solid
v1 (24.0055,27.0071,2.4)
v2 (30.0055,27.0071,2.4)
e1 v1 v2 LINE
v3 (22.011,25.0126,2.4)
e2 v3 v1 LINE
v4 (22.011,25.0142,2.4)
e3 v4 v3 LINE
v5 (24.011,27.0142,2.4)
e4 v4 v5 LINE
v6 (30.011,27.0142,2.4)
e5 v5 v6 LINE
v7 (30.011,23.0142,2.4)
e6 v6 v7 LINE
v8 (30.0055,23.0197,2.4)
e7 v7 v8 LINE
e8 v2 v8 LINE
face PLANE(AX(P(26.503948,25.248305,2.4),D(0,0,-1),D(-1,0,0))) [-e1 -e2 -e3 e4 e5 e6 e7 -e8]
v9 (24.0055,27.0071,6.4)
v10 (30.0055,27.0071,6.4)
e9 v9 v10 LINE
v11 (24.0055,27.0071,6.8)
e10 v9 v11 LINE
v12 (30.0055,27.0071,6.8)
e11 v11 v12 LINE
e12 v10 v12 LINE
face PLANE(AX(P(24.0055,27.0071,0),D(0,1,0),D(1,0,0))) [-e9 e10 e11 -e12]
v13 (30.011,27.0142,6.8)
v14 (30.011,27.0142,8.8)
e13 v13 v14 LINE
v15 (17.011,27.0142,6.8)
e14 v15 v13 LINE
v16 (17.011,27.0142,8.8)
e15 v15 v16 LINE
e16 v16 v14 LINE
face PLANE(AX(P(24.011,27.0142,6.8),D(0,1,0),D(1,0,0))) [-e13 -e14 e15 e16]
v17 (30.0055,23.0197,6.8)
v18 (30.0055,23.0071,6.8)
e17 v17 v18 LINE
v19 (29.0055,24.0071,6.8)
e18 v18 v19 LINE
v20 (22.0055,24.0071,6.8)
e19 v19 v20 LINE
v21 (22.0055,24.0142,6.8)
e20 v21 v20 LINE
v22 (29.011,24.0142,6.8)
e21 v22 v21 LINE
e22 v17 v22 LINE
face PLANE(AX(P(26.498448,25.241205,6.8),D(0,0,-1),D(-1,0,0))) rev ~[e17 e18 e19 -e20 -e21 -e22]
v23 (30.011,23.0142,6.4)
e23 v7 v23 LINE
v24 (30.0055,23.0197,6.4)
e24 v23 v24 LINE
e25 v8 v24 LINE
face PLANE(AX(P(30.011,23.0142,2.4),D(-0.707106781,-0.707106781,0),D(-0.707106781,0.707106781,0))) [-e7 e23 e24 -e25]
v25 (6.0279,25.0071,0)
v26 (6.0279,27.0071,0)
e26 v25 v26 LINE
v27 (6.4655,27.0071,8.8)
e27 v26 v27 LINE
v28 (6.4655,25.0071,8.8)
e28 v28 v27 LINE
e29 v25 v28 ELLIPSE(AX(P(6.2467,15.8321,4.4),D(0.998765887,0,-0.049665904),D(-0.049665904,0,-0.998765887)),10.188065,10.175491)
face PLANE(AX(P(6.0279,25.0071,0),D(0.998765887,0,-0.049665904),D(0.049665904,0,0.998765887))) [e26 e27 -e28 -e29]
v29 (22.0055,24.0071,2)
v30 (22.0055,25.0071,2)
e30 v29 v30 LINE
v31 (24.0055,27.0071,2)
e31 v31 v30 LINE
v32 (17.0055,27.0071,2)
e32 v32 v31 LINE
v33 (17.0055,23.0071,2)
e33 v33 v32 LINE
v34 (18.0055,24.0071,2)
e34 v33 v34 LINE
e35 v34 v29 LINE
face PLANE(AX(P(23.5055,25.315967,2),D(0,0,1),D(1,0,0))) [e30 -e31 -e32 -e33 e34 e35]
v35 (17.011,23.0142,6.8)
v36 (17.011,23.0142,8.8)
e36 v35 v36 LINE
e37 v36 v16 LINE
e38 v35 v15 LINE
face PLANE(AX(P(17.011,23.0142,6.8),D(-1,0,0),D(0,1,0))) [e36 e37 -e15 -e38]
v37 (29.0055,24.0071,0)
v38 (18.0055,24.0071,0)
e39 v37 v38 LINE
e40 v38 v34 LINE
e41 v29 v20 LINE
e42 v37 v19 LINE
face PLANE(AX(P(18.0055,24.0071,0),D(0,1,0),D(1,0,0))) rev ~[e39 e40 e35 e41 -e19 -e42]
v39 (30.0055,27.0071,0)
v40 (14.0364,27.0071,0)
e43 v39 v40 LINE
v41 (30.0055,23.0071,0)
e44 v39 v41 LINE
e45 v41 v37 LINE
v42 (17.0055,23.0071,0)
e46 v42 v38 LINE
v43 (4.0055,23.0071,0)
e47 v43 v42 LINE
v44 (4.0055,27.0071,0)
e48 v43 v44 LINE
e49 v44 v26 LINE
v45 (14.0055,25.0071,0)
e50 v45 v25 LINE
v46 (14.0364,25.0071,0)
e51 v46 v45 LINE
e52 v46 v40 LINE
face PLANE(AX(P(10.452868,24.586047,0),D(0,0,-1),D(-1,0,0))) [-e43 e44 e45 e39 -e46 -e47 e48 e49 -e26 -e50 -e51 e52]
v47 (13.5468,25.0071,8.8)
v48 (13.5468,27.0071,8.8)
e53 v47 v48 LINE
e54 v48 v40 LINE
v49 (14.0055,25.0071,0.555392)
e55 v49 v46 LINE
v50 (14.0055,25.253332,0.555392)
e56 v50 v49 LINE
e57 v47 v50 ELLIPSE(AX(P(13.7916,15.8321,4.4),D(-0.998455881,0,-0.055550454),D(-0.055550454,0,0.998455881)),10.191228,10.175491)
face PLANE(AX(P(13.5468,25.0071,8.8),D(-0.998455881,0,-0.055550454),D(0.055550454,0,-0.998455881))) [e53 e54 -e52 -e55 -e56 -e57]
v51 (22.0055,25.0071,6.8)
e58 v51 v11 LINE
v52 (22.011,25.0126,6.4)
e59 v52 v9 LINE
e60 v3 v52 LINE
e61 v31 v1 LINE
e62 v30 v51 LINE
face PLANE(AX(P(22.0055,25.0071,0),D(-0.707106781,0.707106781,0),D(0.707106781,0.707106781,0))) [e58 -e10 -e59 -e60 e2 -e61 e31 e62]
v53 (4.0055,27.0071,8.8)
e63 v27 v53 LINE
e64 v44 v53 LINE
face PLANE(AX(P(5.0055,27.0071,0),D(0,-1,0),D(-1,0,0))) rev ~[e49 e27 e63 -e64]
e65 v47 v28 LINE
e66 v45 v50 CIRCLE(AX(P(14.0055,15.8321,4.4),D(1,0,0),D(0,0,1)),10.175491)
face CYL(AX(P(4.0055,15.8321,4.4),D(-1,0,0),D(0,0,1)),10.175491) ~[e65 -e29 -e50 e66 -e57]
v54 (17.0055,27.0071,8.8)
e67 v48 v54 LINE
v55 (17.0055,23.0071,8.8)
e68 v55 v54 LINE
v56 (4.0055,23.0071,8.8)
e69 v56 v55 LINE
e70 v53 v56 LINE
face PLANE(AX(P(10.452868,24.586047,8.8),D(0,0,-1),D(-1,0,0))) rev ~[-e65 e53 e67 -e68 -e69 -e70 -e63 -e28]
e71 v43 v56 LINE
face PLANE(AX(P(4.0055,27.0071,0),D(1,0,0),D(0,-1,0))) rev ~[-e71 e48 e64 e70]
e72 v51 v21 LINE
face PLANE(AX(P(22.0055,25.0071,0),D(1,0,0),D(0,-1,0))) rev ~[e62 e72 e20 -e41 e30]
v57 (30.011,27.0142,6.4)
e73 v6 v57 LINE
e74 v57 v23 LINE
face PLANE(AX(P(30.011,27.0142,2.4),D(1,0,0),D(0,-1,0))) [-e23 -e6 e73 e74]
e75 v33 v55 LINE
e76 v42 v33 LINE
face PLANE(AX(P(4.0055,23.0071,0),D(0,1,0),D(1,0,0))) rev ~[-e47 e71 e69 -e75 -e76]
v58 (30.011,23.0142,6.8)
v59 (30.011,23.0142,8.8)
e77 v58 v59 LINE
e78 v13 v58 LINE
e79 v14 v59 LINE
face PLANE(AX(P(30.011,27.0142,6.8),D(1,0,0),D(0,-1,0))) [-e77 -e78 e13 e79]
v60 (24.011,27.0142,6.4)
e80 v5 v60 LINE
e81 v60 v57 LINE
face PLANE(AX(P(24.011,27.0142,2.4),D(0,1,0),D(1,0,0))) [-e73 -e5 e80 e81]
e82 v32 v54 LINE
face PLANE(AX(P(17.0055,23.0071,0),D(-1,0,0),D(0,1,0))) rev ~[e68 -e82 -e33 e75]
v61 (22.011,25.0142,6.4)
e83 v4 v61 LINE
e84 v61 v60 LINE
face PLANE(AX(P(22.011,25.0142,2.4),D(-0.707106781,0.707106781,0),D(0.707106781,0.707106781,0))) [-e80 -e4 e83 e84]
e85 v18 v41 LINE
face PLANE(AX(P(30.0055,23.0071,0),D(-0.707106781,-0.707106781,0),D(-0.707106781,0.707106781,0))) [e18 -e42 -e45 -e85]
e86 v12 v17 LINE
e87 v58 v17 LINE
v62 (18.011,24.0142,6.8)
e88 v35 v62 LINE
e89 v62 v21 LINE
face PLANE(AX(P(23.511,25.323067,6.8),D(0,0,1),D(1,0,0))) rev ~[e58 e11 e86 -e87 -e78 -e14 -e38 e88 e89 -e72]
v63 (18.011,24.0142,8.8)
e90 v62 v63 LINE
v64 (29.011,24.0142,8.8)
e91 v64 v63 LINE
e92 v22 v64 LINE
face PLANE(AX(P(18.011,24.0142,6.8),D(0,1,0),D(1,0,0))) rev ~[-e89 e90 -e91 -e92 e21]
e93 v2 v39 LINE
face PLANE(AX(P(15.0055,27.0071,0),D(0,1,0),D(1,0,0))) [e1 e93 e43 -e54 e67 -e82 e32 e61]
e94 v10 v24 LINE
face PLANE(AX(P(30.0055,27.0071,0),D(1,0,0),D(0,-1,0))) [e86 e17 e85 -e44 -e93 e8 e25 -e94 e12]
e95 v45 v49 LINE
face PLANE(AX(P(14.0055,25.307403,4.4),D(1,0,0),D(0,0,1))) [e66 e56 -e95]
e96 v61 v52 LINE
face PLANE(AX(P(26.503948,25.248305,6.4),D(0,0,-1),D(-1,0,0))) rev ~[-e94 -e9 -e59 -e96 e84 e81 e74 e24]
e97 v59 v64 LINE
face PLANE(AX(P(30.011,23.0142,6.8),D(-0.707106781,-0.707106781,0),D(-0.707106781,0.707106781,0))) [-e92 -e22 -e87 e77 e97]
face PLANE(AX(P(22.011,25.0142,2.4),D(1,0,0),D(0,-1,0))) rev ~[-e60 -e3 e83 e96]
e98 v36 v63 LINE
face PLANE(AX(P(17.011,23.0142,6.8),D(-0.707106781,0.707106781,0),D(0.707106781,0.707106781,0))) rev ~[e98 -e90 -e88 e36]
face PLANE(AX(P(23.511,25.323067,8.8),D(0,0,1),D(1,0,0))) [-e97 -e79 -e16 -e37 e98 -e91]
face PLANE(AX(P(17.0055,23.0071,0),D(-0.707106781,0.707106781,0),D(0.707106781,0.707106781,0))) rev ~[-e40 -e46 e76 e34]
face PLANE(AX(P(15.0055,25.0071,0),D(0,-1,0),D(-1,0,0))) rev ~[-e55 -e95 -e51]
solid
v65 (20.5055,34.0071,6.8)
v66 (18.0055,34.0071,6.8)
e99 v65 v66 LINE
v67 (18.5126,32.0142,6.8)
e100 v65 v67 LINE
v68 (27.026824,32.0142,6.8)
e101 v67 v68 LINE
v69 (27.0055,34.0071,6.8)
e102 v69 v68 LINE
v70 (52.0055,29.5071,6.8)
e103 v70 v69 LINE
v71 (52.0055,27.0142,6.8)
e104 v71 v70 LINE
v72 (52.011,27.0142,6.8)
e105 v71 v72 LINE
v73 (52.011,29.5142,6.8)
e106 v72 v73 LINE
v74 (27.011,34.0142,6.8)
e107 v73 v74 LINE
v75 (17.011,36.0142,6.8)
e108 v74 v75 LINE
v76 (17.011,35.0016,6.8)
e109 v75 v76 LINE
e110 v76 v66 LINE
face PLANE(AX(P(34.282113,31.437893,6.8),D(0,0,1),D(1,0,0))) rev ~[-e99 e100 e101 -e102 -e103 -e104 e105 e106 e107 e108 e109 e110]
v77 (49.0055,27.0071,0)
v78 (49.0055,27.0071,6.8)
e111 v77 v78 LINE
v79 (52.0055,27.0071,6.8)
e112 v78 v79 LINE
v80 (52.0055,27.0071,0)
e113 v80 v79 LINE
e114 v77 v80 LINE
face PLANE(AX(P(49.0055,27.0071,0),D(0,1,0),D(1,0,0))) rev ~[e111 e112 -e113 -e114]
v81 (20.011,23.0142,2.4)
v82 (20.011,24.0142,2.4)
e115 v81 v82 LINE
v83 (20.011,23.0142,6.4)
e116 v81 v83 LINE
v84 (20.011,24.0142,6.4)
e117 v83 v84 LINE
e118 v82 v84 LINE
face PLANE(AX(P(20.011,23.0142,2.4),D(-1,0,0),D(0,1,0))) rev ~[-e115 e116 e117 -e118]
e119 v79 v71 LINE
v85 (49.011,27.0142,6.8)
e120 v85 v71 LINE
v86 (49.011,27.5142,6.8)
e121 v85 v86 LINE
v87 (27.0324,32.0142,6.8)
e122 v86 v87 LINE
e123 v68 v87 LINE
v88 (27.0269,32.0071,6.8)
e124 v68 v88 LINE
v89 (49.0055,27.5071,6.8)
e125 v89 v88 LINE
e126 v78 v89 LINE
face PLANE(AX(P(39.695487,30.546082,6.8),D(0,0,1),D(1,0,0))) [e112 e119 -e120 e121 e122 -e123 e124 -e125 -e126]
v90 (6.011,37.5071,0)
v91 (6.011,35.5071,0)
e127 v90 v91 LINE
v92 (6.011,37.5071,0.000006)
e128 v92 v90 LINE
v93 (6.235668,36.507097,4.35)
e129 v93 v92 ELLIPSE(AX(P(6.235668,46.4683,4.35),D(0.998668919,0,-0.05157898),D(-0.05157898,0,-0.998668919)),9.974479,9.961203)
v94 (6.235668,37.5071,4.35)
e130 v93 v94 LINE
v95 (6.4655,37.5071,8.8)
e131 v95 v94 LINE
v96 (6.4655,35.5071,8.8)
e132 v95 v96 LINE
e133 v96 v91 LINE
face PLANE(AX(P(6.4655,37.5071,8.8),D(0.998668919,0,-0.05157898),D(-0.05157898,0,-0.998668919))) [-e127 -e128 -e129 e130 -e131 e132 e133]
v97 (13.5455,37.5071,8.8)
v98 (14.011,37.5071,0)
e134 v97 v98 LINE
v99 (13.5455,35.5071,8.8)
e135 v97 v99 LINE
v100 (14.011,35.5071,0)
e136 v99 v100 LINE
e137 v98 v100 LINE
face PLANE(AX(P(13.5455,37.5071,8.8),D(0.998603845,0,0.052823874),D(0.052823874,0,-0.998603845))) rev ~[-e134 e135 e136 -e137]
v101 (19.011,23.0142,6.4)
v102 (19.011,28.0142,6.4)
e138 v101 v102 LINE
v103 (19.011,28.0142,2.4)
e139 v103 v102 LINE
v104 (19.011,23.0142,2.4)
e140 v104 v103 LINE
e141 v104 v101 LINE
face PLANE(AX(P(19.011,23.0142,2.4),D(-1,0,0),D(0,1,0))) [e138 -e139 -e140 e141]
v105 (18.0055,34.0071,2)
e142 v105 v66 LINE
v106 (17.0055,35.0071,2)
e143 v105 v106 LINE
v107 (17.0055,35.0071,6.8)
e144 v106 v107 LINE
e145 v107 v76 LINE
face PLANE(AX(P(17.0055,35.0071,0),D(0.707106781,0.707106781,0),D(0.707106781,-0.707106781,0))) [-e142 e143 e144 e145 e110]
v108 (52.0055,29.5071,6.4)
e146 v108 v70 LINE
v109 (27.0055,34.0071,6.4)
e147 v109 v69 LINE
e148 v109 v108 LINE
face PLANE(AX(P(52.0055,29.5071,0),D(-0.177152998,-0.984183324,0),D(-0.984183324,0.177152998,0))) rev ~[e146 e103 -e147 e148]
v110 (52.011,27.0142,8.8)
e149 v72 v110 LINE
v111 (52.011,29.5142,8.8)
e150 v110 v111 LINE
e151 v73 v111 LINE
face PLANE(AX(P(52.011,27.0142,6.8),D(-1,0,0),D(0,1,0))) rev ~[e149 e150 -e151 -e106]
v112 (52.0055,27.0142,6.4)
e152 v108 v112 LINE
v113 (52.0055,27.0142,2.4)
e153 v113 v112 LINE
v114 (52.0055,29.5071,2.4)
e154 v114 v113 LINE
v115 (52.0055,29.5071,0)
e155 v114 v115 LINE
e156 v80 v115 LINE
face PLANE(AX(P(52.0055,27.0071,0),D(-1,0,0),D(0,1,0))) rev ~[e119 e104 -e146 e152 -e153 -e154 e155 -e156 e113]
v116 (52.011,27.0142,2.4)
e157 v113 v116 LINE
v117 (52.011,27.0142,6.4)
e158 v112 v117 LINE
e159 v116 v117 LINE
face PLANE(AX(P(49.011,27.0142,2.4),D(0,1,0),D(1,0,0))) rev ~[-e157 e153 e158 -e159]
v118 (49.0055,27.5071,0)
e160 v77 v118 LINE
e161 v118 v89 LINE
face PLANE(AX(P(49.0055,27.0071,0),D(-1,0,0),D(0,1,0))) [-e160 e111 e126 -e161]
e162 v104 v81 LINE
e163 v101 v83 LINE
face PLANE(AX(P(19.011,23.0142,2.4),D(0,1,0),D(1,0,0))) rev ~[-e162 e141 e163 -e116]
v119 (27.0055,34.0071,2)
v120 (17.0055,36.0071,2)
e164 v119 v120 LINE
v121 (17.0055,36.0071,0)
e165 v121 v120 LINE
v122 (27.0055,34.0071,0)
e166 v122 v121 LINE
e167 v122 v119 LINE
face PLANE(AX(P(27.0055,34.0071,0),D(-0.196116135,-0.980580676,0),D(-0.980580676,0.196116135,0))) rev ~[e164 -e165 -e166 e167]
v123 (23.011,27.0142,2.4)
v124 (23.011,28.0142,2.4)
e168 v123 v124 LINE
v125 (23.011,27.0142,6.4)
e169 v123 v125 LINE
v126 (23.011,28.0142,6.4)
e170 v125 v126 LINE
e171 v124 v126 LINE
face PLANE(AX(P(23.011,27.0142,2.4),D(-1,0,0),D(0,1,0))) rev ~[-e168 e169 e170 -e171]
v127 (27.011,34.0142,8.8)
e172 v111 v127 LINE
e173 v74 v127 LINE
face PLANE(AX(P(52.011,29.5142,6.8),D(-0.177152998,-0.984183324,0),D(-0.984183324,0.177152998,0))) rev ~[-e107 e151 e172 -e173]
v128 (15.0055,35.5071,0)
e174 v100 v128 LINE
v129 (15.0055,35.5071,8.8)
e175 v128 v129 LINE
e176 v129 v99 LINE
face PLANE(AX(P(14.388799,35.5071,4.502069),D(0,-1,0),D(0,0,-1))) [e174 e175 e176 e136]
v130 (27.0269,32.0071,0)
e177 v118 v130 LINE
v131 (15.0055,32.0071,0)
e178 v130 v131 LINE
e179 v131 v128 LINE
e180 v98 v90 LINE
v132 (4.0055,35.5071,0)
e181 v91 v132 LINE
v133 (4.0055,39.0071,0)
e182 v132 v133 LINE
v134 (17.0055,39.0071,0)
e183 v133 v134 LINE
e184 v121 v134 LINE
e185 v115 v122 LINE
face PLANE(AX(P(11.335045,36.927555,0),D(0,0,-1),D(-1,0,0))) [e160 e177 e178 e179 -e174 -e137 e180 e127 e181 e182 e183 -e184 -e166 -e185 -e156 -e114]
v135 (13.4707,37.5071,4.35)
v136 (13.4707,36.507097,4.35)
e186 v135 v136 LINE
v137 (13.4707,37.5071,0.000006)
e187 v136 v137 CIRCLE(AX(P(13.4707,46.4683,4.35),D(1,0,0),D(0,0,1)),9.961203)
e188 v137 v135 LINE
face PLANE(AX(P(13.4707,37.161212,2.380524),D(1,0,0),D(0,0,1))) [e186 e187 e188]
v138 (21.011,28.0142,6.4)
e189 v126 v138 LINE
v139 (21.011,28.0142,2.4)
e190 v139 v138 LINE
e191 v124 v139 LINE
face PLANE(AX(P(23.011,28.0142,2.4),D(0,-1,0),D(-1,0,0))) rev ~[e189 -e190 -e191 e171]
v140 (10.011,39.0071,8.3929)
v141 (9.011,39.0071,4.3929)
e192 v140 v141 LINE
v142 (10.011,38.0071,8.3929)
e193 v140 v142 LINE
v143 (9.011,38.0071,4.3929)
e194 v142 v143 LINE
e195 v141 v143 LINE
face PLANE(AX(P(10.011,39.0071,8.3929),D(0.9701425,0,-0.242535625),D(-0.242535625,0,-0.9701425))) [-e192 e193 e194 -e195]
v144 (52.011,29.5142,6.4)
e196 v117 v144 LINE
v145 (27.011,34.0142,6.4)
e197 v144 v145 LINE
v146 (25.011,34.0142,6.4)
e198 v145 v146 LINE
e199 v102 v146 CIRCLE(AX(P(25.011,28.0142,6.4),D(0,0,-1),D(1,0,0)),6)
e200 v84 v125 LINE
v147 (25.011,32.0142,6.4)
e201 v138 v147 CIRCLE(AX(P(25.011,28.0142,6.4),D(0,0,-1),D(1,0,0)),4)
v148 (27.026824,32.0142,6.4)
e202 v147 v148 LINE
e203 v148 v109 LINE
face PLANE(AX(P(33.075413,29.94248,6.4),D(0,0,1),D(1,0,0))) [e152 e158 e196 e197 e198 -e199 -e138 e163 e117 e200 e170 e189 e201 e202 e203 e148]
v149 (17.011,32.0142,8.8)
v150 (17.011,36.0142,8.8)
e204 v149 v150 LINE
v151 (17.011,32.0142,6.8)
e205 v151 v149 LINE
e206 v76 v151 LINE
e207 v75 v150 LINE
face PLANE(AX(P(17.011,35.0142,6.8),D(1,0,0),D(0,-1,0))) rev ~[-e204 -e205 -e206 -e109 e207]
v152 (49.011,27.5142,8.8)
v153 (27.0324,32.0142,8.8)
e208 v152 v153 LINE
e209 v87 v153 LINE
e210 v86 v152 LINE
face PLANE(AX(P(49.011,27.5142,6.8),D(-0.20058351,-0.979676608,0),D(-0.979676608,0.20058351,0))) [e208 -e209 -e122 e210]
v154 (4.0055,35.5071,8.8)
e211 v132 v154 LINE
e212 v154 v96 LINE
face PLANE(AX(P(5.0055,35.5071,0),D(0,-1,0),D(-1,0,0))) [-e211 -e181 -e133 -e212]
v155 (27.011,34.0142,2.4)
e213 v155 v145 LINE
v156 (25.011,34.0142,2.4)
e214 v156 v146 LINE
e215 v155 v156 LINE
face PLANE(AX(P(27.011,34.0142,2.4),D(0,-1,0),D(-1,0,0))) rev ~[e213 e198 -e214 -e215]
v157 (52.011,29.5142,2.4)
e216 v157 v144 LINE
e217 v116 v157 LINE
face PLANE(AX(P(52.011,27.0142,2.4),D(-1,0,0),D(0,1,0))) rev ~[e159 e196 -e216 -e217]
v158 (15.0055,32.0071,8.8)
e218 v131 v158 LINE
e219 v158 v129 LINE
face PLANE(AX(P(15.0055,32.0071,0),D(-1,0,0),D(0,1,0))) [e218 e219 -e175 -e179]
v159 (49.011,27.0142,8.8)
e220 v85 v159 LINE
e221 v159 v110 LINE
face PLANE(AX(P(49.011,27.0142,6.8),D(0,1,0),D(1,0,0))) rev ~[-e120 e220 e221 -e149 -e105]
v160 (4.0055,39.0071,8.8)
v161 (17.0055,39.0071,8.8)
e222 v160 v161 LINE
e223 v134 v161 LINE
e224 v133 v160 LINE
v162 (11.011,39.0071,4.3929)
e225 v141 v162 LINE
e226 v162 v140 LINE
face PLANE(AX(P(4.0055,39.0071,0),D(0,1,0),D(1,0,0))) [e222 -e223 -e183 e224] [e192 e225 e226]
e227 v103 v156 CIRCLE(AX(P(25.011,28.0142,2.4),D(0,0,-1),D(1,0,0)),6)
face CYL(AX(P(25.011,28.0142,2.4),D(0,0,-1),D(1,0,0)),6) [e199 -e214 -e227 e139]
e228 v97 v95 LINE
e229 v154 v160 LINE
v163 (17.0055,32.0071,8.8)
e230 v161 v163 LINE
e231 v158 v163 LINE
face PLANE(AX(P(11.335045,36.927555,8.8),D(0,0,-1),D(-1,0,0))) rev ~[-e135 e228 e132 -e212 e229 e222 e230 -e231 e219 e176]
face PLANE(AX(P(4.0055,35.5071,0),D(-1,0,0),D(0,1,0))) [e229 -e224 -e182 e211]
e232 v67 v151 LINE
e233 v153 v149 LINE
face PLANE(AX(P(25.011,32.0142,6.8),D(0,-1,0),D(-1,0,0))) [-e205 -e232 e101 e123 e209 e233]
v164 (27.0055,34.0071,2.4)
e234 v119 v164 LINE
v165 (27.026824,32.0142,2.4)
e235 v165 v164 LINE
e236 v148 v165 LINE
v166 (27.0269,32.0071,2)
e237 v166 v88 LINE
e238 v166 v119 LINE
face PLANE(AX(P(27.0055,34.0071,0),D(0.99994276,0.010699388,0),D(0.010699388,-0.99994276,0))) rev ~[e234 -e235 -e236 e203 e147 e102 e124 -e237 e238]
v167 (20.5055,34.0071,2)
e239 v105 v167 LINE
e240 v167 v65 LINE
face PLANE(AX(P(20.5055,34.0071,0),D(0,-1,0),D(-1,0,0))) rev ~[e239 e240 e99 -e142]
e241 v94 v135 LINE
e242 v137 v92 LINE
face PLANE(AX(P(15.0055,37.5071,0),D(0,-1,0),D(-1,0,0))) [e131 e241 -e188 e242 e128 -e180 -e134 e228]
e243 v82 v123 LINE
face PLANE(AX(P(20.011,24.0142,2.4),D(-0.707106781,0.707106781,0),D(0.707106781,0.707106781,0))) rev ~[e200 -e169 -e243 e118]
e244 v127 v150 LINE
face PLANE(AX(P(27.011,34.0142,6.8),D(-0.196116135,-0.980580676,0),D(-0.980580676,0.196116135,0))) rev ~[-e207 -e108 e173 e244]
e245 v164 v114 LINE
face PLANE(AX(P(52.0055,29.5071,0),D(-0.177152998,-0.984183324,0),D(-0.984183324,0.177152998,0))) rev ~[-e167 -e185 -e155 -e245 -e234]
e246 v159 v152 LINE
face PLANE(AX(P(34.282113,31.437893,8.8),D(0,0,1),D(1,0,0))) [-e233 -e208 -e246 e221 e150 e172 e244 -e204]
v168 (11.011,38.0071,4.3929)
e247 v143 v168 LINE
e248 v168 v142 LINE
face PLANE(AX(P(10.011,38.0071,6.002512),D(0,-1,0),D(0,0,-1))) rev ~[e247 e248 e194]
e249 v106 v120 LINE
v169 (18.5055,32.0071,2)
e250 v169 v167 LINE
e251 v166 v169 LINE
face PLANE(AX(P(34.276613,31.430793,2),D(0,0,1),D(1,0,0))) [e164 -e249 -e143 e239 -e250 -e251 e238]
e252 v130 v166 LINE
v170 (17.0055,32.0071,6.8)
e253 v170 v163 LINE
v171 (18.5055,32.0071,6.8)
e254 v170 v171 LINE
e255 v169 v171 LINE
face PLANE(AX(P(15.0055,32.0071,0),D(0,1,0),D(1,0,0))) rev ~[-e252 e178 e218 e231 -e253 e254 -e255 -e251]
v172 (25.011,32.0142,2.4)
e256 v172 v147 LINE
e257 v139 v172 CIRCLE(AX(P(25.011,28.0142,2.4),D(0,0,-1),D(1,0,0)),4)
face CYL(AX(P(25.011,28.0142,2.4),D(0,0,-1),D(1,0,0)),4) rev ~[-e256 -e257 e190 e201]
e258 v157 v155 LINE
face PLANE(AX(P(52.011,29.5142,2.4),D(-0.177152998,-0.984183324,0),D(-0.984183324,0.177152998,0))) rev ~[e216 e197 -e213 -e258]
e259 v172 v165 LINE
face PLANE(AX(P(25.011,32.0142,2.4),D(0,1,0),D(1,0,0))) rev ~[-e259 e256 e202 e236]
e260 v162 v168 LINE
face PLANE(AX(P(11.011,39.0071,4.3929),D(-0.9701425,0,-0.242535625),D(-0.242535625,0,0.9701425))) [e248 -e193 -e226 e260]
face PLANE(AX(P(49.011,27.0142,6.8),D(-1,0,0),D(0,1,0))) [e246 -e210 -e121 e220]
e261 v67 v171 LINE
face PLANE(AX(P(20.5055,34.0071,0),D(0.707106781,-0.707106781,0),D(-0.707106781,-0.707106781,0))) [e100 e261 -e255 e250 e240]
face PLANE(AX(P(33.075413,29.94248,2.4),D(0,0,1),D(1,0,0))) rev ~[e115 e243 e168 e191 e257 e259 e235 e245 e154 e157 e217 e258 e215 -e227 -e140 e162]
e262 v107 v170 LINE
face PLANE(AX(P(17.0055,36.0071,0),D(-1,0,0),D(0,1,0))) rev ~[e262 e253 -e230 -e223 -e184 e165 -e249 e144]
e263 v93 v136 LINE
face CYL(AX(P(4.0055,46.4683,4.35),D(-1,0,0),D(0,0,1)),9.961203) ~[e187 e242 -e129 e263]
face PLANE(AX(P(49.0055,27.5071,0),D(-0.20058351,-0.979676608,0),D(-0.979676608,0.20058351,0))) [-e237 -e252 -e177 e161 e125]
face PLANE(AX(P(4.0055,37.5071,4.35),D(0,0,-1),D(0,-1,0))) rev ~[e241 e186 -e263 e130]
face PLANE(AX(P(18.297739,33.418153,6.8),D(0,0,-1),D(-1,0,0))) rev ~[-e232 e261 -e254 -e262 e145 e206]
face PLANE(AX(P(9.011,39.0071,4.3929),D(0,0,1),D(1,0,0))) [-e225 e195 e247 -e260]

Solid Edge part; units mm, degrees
sketch "Sketch1" plane through (0, 0, 0) normal (0, 0, 1) x (1, 0, 0)
  line L0 (4.0055, 39.0071) -> (17.0055, 39.0071)
  line L1 (17.0055, 36.0071) -> (17.0055, 39.0071)
  line L2 (17.0055, 36.0071) -> (17.0055, 35.0071)
  line L3 (17.0055, 35.0071) -> (17.0055, 32.0071)
  line L4 (15.0055, 32.0071) -> (17.0055, 32.0071)
  line L5 (15.0055, 32.0071) -> (15.0055, 37.5071)
  line L6 (15.0055, 37.5071) -> (5.0055, 37.5071)
  line L7 (5.0055, 37.5071) -> (5.0055, 35.5071)
  line L8 (5.0055, 35.5071) -> (4.0055, 35.5071)
  line L9 (4.0055, 35.5071) -> (4.0055, 39.0071)
  line L10 (15.0055, 27.0071) -> (17.0055, 27.0071)
  line L11 (17.0055, 23.0071) -> (17.0055, 27.0071)
  line L12 (4.0055, 23.0071) -> (17.0055, 23.0071)
  line L13 (4.0055, 27.0071) -> (4.0055, 23.0071)
  line L14 (5.0055, 27.0071) -> (4.0055, 27.0071)
  line L15 (5.0055, 25.0071) -> (5.0055, 27.0071)
  line L16 (15.0055, 25.0071) -> (5.0055, 25.0071)
  line L17 (15.0055, 25.0071) -> (15.0055, 27.0071)
  dimension "D1" = 22
  dimension "D2" = 9.7
  dimension "D3" = 8.1
extrude "Protrusion1" add sketch "Sketch1" along normal blind 8.8
sketch "Sketch2" plane through (0, 0, 0) normal (0, 0, 1) x (1, 0, 0)
  line L0 (27.0055, 34.0071) -> (17.0055, 36.0071)
  line L1 (17.0055, 36.0071) -> (17.0055, 35.0071)
  line L2 (17.0055, 35.0071) -> (17.0055, 32.0071)
  line L3 (17.0055, 32.0071) -> (18.5055, 32.0071)
  line L4 (25.0055, 32.0071) -> (18.5055, 32.0071)
  line L5 (25.0055, 32.0071) -> (27.0269, 32.0071)
  line L6 (49.0055, 27.5071) -> (27.0269, 32.0071)
  line L7 (49.0055, 27.0071) -> (49.0055, 27.5071)
  line L8 (49.0055, 27.0071) -> (52.0055, 27.0071)
  line L9 (52.0055, 27.0071) -> (52.0055, 29.5071)
  line L10 (52.0055, 29.5071) -> (27.0055, 34.0071)
  line L11 (17.0055, 23.0071) -> (18.0055, 24.0071)
  line L12 (18.0055, 24.0071) -> (22.0055, 24.0071)
  line L13 (29.0055, 24.0071) -> (22.0055, 24.0071)
  line L14 (30.0055, 23.0071) -> (29.0055, 24.0071)
  line L15 (30.0055, 27.0071) -> (30.0055, 23.0071)
  line L16 (24.0055, 27.0071) -> (30.0055, 27.0071)
  line L17 (24.0055, 27.0071) -> (17.0055, 27.0071)
  line L18 (17.0055, 23.0071) -> (17.0055, 27.0071)
  dimension "D1" = 22
  dimension "D2" = 9.7
  dimension "D3" = 8.1
extrude "RightEdgeProtrusion" add sketch "Sketch2" along normal blind 2
sketch "Sketch3" plane through (26.0055, 25.0071, 2.4) normal (0, 0, 1) x (1, 0, 0)
  line L0 (1.0055, 9.0071) -> (-0.9945, 9.0071)
  arc A0 (-6.9945, 3.0071) -> (-0.9945, 9.0071) centre (-0.9945, 3.0071) cw
  line L1 (-6.9945, -1.9929) -> (-6.9945, 3.0071)
  line L2 (-6.9945, -1.9929) -> (-5.9945, -1.9929)
  line L3 (-5.9945, -1.9929) -> (-5.9945, -0.9929)
  line L4 (-5.9945, -0.9929) -> (-2.9945, 2.0071)
  line L5 (-2.9945, 2.0071) -> (-2.9945, 3.0071)
  line L6 (-2.9945, 3.0071) -> (-4.9945, 3.0071)
  arc A1 (-4.9945, 3.0071) -> (-0.9945, 7.0071) centre (-0.9945, 3.0071) cw
  line L7 (-0.9945, 7.0071) -> (1.0269, 7.0071)
  line L8 (23.0055, 2.5071) -> (1.0269, 7.0071)
  line L9 (23.0055, 2.0071) -> (23.0055, 2.5071)
  line L10 (23.0055, 2.0071) -> (26.0055, 2.0071)
  line L11 (26.0055, 2.0071) -> (26.0055, 4.5071)
  line L12 (26.0055, 4.5071) -> (1.0055, 9.0071)
  line L13 (-1.9945, 2.0071) -> (4.0055, 2.0071)
  line L14 (4.0055, 2.0071) -> (4.0055, -1.9929)
  line L15 (4.0055, -1.9929) -> (3.0055, -0.9929)
  line L16 (3.0055, -0.9929) -> (-3.9945, -0.9929)
  line L17 (-3.9945, 0.0071) -> (-3.9945, -0.9929)
  line L18 (-3.9945, 0.0071) -> (-1.9945, 2.0071)
  dimension "D1" = 22
extrude "ClickerProtrusion" add sketch "Sketch3" along normal blind 4
sketch "Sketch4" plane through (0, 0, 0) normal (0, 0, 1) x (1, 0, 0)
  line L0 (17.0055, 35.0071) -> (18.0055, 34.0071)
  line L1 (20.5055, 34.0071) -> (18.0055, 34.0071)
  line L2 (20.5055, 34.0071) -> (18.5055, 32.0071)
  line L3 (17.0055, 32.0071) -> (18.5055, 32.0071)
  line L4 (17.0055, 35.0071) -> (17.0055, 32.0071)
  line L5 (27.0055, 34.0071) -> (27.0269, 32.0071)
  line L6 (49.0055, 27.5071) -> (27.0269, 32.0071)
  line L7 (49.0055, 27.0071) -> (49.0055, 27.5071)
  line L8 (49.0055, 27.0071) -> (52.0055, 27.0071)
  line L9 (52.0055, 27.0071) -> (52.0055, 29.5071)
  line L10 (52.0055, 29.5071) -> (27.0055, 34.0071)
  line L11 (24.0055, 27.0071) -> (30.0055, 27.0071)
  line L12 (30.0055, 27.0071) -> (30.0055, 23.0071)
  line L13 (30.0055, 23.0071) -> (29.0055, 24.0071)
  line L14 (29.0055, 24.0071) -> (22.0055, 24.0071)
  line L15 (22.0055, 25.0071) -> (22.0055, 24.0071)
  line L16 (22.0055, 25.0071) -> (24.0055, 27.0071)
  dimension "D1" = 22
  dimension "D2" = 9.7
  dimension "D3" = 8.1
extrude "SpacerProtrusion" add sketch "Sketch4" along normal blind 6.8
sketch "Sketch5" plane through (26.0055, 25.0071, 6.8) normal (0, 0, 1) x (1, 0, 0)
  line L0 (1.0055, 9.0071) -> (-8.9945, 11.0071)
  line L1 (-8.9945, 11.0071) -> (-8.9945, 10.0071)
  line L2 (-8.9945, 10.0071) -> (-8.9945, 7.0071)
  line L3 (-8.9945, 7.0071) -> (-7.4945, 7.0071)
  line L4 (-0.9945, 7.0071) -> (-7.4945, 7.0071)
  line L5 (-0.9945, 7.0071) -> (1.0269, 7.0071)
  line L6 (23.0055, 2.5071) -> (1.0269, 7.0071)
  line L7 (23.0055, 2.0071) -> (23.0055, 2.5071)
  line L8 (23.0055, 2.0071) -> (26.0055, 2.0071)
  line L9 (26.0055, 2.0071) -> (26.0055, 4.5071)
  line L10 (26.0055, 4.5071) -> (1.0055, 9.0071)
  line L11 (-1.9945, 2.0071) -> (-8.9945, 2.0071)
  line L12 (-8.9945, -1.9929) -> (-8.9945, 2.0071)
  line L13 (-8.9945, -1.9929) -> (-7.9945, -0.9929)
  line L14 (-7.9945, -0.9929) -> (-3.9945, -0.9929)
  line L15 (3.0055, -0.9929) -> (-3.9945, -0.9929)
  line L16 (4.0055, -1.9929) -> (3.0055, -0.9929)
  line L17 (4.0055, 2.0071) -> (4.0055, -1.9929)
  line L18 (-1.9945, 2.0071) -> (4.0055, 2.0071)
  dimension "D1" = 22
extrude "LeftEdgeProtrusion" add sketch "Sketch5" along normal blind 2
sketch "Sketch6" plane through (10.0055, 37.5071, 4.4) normal (0, -1, 0) x (1, 0, 0)
  line L0 (-3.54, 4.4) -> (-3.9945, -4.4)
  line L1 (-3.9945, -4.4) -> (-5, -4.4)
  line L2 (-5, -4.4) -> (-5, 4.4)
  line L3 (-5, 4.4) -> (-3.54, 4.4)
  line L4 (3.54, 4.4) -> (4.0055, -4.4)
  line L5 (4.0055, -4.4) -> (5, -4.4)
  line L6 (5, -4.4) -> (5, 4.4)
  line L7 (5, 4.4) -> (3.54, 4.4)
  dimension "D1" = 10
extrude "SlantedTopProtrusion" add sketch "Sketch6" along normal blind 2
sketch "Sketch7" plane through (4.0055, 37.2571, 4.4) normal (-1, 0, 0) x (0, 0, 1)
  line L0 (-4.4, 0.25) -> (-0.05, 0.25)
  line L1 (-0.05, 0.25) -> (-0.05, -0.75)
  arc A0 (-0.05, -0.75) -> (-4.4, 0.25) centre (-0.05, 9.2112) cw
extrude "TopArcProtrusion" add sketch "Sketch7" against normal blind 9.4652
sketch "Sketch8" plane through (10.0055, 25.0071, 4.4) normal (0, 1, 0) x (0, 0, 1)
  line L0 (4.4, 3.5413) -> (-4.4, 4.0309)
  line L1 (-4.4, 4.0309) -> (-4.4, 5.0014)
  line L2 (-4.4, 5.0014) -> (4.4, 5)
  line L3 (4.4, 5) -> (4.4, 3.5413)
  line L4 (4.4, -3.54) -> (4.4, -5)
  line L5 (4.4, -5) -> (-4.4, -5)
  line L6 (-4.4, -5) -> (-4.4, -3.9776)
  line L7 (-4.4, -3.9776) -> (4.4, -3.54)
extrude "BottomSlantedProtrusion" add sketch "Sketch8" along normal blind 2
sketch "Sketch9" plane through (4.0055, 25.0071, 4.4) normal (-1, 0, 0) x (0, 0, 1)
  arc A0 (-4.4, 0) -> (4.4, 0) centre (0, -9.175) cw
  line L0 (-4.4, 0) -> (4.4, 0)
extrude "BottomArcProtrusion" add sketch "Sketch9" against normal blind 10
sketch "Sketch10" plane through (10.5055, 39.0071, 4.4) normal (0, 1, 0) x (1, 0, 0)
  line L0 (-1.4945, 0.0071) -> (0.5055, 0.0071)
  line L1 (0.5055, 0.0071) -> (-0.4945, -3.9929)
  line L2 (-0.4945, -3.9929) -> (-1.4945, 0.0071)
extrude "TriangleCutout" cut sketch "Sketch10" against normal blind 1
